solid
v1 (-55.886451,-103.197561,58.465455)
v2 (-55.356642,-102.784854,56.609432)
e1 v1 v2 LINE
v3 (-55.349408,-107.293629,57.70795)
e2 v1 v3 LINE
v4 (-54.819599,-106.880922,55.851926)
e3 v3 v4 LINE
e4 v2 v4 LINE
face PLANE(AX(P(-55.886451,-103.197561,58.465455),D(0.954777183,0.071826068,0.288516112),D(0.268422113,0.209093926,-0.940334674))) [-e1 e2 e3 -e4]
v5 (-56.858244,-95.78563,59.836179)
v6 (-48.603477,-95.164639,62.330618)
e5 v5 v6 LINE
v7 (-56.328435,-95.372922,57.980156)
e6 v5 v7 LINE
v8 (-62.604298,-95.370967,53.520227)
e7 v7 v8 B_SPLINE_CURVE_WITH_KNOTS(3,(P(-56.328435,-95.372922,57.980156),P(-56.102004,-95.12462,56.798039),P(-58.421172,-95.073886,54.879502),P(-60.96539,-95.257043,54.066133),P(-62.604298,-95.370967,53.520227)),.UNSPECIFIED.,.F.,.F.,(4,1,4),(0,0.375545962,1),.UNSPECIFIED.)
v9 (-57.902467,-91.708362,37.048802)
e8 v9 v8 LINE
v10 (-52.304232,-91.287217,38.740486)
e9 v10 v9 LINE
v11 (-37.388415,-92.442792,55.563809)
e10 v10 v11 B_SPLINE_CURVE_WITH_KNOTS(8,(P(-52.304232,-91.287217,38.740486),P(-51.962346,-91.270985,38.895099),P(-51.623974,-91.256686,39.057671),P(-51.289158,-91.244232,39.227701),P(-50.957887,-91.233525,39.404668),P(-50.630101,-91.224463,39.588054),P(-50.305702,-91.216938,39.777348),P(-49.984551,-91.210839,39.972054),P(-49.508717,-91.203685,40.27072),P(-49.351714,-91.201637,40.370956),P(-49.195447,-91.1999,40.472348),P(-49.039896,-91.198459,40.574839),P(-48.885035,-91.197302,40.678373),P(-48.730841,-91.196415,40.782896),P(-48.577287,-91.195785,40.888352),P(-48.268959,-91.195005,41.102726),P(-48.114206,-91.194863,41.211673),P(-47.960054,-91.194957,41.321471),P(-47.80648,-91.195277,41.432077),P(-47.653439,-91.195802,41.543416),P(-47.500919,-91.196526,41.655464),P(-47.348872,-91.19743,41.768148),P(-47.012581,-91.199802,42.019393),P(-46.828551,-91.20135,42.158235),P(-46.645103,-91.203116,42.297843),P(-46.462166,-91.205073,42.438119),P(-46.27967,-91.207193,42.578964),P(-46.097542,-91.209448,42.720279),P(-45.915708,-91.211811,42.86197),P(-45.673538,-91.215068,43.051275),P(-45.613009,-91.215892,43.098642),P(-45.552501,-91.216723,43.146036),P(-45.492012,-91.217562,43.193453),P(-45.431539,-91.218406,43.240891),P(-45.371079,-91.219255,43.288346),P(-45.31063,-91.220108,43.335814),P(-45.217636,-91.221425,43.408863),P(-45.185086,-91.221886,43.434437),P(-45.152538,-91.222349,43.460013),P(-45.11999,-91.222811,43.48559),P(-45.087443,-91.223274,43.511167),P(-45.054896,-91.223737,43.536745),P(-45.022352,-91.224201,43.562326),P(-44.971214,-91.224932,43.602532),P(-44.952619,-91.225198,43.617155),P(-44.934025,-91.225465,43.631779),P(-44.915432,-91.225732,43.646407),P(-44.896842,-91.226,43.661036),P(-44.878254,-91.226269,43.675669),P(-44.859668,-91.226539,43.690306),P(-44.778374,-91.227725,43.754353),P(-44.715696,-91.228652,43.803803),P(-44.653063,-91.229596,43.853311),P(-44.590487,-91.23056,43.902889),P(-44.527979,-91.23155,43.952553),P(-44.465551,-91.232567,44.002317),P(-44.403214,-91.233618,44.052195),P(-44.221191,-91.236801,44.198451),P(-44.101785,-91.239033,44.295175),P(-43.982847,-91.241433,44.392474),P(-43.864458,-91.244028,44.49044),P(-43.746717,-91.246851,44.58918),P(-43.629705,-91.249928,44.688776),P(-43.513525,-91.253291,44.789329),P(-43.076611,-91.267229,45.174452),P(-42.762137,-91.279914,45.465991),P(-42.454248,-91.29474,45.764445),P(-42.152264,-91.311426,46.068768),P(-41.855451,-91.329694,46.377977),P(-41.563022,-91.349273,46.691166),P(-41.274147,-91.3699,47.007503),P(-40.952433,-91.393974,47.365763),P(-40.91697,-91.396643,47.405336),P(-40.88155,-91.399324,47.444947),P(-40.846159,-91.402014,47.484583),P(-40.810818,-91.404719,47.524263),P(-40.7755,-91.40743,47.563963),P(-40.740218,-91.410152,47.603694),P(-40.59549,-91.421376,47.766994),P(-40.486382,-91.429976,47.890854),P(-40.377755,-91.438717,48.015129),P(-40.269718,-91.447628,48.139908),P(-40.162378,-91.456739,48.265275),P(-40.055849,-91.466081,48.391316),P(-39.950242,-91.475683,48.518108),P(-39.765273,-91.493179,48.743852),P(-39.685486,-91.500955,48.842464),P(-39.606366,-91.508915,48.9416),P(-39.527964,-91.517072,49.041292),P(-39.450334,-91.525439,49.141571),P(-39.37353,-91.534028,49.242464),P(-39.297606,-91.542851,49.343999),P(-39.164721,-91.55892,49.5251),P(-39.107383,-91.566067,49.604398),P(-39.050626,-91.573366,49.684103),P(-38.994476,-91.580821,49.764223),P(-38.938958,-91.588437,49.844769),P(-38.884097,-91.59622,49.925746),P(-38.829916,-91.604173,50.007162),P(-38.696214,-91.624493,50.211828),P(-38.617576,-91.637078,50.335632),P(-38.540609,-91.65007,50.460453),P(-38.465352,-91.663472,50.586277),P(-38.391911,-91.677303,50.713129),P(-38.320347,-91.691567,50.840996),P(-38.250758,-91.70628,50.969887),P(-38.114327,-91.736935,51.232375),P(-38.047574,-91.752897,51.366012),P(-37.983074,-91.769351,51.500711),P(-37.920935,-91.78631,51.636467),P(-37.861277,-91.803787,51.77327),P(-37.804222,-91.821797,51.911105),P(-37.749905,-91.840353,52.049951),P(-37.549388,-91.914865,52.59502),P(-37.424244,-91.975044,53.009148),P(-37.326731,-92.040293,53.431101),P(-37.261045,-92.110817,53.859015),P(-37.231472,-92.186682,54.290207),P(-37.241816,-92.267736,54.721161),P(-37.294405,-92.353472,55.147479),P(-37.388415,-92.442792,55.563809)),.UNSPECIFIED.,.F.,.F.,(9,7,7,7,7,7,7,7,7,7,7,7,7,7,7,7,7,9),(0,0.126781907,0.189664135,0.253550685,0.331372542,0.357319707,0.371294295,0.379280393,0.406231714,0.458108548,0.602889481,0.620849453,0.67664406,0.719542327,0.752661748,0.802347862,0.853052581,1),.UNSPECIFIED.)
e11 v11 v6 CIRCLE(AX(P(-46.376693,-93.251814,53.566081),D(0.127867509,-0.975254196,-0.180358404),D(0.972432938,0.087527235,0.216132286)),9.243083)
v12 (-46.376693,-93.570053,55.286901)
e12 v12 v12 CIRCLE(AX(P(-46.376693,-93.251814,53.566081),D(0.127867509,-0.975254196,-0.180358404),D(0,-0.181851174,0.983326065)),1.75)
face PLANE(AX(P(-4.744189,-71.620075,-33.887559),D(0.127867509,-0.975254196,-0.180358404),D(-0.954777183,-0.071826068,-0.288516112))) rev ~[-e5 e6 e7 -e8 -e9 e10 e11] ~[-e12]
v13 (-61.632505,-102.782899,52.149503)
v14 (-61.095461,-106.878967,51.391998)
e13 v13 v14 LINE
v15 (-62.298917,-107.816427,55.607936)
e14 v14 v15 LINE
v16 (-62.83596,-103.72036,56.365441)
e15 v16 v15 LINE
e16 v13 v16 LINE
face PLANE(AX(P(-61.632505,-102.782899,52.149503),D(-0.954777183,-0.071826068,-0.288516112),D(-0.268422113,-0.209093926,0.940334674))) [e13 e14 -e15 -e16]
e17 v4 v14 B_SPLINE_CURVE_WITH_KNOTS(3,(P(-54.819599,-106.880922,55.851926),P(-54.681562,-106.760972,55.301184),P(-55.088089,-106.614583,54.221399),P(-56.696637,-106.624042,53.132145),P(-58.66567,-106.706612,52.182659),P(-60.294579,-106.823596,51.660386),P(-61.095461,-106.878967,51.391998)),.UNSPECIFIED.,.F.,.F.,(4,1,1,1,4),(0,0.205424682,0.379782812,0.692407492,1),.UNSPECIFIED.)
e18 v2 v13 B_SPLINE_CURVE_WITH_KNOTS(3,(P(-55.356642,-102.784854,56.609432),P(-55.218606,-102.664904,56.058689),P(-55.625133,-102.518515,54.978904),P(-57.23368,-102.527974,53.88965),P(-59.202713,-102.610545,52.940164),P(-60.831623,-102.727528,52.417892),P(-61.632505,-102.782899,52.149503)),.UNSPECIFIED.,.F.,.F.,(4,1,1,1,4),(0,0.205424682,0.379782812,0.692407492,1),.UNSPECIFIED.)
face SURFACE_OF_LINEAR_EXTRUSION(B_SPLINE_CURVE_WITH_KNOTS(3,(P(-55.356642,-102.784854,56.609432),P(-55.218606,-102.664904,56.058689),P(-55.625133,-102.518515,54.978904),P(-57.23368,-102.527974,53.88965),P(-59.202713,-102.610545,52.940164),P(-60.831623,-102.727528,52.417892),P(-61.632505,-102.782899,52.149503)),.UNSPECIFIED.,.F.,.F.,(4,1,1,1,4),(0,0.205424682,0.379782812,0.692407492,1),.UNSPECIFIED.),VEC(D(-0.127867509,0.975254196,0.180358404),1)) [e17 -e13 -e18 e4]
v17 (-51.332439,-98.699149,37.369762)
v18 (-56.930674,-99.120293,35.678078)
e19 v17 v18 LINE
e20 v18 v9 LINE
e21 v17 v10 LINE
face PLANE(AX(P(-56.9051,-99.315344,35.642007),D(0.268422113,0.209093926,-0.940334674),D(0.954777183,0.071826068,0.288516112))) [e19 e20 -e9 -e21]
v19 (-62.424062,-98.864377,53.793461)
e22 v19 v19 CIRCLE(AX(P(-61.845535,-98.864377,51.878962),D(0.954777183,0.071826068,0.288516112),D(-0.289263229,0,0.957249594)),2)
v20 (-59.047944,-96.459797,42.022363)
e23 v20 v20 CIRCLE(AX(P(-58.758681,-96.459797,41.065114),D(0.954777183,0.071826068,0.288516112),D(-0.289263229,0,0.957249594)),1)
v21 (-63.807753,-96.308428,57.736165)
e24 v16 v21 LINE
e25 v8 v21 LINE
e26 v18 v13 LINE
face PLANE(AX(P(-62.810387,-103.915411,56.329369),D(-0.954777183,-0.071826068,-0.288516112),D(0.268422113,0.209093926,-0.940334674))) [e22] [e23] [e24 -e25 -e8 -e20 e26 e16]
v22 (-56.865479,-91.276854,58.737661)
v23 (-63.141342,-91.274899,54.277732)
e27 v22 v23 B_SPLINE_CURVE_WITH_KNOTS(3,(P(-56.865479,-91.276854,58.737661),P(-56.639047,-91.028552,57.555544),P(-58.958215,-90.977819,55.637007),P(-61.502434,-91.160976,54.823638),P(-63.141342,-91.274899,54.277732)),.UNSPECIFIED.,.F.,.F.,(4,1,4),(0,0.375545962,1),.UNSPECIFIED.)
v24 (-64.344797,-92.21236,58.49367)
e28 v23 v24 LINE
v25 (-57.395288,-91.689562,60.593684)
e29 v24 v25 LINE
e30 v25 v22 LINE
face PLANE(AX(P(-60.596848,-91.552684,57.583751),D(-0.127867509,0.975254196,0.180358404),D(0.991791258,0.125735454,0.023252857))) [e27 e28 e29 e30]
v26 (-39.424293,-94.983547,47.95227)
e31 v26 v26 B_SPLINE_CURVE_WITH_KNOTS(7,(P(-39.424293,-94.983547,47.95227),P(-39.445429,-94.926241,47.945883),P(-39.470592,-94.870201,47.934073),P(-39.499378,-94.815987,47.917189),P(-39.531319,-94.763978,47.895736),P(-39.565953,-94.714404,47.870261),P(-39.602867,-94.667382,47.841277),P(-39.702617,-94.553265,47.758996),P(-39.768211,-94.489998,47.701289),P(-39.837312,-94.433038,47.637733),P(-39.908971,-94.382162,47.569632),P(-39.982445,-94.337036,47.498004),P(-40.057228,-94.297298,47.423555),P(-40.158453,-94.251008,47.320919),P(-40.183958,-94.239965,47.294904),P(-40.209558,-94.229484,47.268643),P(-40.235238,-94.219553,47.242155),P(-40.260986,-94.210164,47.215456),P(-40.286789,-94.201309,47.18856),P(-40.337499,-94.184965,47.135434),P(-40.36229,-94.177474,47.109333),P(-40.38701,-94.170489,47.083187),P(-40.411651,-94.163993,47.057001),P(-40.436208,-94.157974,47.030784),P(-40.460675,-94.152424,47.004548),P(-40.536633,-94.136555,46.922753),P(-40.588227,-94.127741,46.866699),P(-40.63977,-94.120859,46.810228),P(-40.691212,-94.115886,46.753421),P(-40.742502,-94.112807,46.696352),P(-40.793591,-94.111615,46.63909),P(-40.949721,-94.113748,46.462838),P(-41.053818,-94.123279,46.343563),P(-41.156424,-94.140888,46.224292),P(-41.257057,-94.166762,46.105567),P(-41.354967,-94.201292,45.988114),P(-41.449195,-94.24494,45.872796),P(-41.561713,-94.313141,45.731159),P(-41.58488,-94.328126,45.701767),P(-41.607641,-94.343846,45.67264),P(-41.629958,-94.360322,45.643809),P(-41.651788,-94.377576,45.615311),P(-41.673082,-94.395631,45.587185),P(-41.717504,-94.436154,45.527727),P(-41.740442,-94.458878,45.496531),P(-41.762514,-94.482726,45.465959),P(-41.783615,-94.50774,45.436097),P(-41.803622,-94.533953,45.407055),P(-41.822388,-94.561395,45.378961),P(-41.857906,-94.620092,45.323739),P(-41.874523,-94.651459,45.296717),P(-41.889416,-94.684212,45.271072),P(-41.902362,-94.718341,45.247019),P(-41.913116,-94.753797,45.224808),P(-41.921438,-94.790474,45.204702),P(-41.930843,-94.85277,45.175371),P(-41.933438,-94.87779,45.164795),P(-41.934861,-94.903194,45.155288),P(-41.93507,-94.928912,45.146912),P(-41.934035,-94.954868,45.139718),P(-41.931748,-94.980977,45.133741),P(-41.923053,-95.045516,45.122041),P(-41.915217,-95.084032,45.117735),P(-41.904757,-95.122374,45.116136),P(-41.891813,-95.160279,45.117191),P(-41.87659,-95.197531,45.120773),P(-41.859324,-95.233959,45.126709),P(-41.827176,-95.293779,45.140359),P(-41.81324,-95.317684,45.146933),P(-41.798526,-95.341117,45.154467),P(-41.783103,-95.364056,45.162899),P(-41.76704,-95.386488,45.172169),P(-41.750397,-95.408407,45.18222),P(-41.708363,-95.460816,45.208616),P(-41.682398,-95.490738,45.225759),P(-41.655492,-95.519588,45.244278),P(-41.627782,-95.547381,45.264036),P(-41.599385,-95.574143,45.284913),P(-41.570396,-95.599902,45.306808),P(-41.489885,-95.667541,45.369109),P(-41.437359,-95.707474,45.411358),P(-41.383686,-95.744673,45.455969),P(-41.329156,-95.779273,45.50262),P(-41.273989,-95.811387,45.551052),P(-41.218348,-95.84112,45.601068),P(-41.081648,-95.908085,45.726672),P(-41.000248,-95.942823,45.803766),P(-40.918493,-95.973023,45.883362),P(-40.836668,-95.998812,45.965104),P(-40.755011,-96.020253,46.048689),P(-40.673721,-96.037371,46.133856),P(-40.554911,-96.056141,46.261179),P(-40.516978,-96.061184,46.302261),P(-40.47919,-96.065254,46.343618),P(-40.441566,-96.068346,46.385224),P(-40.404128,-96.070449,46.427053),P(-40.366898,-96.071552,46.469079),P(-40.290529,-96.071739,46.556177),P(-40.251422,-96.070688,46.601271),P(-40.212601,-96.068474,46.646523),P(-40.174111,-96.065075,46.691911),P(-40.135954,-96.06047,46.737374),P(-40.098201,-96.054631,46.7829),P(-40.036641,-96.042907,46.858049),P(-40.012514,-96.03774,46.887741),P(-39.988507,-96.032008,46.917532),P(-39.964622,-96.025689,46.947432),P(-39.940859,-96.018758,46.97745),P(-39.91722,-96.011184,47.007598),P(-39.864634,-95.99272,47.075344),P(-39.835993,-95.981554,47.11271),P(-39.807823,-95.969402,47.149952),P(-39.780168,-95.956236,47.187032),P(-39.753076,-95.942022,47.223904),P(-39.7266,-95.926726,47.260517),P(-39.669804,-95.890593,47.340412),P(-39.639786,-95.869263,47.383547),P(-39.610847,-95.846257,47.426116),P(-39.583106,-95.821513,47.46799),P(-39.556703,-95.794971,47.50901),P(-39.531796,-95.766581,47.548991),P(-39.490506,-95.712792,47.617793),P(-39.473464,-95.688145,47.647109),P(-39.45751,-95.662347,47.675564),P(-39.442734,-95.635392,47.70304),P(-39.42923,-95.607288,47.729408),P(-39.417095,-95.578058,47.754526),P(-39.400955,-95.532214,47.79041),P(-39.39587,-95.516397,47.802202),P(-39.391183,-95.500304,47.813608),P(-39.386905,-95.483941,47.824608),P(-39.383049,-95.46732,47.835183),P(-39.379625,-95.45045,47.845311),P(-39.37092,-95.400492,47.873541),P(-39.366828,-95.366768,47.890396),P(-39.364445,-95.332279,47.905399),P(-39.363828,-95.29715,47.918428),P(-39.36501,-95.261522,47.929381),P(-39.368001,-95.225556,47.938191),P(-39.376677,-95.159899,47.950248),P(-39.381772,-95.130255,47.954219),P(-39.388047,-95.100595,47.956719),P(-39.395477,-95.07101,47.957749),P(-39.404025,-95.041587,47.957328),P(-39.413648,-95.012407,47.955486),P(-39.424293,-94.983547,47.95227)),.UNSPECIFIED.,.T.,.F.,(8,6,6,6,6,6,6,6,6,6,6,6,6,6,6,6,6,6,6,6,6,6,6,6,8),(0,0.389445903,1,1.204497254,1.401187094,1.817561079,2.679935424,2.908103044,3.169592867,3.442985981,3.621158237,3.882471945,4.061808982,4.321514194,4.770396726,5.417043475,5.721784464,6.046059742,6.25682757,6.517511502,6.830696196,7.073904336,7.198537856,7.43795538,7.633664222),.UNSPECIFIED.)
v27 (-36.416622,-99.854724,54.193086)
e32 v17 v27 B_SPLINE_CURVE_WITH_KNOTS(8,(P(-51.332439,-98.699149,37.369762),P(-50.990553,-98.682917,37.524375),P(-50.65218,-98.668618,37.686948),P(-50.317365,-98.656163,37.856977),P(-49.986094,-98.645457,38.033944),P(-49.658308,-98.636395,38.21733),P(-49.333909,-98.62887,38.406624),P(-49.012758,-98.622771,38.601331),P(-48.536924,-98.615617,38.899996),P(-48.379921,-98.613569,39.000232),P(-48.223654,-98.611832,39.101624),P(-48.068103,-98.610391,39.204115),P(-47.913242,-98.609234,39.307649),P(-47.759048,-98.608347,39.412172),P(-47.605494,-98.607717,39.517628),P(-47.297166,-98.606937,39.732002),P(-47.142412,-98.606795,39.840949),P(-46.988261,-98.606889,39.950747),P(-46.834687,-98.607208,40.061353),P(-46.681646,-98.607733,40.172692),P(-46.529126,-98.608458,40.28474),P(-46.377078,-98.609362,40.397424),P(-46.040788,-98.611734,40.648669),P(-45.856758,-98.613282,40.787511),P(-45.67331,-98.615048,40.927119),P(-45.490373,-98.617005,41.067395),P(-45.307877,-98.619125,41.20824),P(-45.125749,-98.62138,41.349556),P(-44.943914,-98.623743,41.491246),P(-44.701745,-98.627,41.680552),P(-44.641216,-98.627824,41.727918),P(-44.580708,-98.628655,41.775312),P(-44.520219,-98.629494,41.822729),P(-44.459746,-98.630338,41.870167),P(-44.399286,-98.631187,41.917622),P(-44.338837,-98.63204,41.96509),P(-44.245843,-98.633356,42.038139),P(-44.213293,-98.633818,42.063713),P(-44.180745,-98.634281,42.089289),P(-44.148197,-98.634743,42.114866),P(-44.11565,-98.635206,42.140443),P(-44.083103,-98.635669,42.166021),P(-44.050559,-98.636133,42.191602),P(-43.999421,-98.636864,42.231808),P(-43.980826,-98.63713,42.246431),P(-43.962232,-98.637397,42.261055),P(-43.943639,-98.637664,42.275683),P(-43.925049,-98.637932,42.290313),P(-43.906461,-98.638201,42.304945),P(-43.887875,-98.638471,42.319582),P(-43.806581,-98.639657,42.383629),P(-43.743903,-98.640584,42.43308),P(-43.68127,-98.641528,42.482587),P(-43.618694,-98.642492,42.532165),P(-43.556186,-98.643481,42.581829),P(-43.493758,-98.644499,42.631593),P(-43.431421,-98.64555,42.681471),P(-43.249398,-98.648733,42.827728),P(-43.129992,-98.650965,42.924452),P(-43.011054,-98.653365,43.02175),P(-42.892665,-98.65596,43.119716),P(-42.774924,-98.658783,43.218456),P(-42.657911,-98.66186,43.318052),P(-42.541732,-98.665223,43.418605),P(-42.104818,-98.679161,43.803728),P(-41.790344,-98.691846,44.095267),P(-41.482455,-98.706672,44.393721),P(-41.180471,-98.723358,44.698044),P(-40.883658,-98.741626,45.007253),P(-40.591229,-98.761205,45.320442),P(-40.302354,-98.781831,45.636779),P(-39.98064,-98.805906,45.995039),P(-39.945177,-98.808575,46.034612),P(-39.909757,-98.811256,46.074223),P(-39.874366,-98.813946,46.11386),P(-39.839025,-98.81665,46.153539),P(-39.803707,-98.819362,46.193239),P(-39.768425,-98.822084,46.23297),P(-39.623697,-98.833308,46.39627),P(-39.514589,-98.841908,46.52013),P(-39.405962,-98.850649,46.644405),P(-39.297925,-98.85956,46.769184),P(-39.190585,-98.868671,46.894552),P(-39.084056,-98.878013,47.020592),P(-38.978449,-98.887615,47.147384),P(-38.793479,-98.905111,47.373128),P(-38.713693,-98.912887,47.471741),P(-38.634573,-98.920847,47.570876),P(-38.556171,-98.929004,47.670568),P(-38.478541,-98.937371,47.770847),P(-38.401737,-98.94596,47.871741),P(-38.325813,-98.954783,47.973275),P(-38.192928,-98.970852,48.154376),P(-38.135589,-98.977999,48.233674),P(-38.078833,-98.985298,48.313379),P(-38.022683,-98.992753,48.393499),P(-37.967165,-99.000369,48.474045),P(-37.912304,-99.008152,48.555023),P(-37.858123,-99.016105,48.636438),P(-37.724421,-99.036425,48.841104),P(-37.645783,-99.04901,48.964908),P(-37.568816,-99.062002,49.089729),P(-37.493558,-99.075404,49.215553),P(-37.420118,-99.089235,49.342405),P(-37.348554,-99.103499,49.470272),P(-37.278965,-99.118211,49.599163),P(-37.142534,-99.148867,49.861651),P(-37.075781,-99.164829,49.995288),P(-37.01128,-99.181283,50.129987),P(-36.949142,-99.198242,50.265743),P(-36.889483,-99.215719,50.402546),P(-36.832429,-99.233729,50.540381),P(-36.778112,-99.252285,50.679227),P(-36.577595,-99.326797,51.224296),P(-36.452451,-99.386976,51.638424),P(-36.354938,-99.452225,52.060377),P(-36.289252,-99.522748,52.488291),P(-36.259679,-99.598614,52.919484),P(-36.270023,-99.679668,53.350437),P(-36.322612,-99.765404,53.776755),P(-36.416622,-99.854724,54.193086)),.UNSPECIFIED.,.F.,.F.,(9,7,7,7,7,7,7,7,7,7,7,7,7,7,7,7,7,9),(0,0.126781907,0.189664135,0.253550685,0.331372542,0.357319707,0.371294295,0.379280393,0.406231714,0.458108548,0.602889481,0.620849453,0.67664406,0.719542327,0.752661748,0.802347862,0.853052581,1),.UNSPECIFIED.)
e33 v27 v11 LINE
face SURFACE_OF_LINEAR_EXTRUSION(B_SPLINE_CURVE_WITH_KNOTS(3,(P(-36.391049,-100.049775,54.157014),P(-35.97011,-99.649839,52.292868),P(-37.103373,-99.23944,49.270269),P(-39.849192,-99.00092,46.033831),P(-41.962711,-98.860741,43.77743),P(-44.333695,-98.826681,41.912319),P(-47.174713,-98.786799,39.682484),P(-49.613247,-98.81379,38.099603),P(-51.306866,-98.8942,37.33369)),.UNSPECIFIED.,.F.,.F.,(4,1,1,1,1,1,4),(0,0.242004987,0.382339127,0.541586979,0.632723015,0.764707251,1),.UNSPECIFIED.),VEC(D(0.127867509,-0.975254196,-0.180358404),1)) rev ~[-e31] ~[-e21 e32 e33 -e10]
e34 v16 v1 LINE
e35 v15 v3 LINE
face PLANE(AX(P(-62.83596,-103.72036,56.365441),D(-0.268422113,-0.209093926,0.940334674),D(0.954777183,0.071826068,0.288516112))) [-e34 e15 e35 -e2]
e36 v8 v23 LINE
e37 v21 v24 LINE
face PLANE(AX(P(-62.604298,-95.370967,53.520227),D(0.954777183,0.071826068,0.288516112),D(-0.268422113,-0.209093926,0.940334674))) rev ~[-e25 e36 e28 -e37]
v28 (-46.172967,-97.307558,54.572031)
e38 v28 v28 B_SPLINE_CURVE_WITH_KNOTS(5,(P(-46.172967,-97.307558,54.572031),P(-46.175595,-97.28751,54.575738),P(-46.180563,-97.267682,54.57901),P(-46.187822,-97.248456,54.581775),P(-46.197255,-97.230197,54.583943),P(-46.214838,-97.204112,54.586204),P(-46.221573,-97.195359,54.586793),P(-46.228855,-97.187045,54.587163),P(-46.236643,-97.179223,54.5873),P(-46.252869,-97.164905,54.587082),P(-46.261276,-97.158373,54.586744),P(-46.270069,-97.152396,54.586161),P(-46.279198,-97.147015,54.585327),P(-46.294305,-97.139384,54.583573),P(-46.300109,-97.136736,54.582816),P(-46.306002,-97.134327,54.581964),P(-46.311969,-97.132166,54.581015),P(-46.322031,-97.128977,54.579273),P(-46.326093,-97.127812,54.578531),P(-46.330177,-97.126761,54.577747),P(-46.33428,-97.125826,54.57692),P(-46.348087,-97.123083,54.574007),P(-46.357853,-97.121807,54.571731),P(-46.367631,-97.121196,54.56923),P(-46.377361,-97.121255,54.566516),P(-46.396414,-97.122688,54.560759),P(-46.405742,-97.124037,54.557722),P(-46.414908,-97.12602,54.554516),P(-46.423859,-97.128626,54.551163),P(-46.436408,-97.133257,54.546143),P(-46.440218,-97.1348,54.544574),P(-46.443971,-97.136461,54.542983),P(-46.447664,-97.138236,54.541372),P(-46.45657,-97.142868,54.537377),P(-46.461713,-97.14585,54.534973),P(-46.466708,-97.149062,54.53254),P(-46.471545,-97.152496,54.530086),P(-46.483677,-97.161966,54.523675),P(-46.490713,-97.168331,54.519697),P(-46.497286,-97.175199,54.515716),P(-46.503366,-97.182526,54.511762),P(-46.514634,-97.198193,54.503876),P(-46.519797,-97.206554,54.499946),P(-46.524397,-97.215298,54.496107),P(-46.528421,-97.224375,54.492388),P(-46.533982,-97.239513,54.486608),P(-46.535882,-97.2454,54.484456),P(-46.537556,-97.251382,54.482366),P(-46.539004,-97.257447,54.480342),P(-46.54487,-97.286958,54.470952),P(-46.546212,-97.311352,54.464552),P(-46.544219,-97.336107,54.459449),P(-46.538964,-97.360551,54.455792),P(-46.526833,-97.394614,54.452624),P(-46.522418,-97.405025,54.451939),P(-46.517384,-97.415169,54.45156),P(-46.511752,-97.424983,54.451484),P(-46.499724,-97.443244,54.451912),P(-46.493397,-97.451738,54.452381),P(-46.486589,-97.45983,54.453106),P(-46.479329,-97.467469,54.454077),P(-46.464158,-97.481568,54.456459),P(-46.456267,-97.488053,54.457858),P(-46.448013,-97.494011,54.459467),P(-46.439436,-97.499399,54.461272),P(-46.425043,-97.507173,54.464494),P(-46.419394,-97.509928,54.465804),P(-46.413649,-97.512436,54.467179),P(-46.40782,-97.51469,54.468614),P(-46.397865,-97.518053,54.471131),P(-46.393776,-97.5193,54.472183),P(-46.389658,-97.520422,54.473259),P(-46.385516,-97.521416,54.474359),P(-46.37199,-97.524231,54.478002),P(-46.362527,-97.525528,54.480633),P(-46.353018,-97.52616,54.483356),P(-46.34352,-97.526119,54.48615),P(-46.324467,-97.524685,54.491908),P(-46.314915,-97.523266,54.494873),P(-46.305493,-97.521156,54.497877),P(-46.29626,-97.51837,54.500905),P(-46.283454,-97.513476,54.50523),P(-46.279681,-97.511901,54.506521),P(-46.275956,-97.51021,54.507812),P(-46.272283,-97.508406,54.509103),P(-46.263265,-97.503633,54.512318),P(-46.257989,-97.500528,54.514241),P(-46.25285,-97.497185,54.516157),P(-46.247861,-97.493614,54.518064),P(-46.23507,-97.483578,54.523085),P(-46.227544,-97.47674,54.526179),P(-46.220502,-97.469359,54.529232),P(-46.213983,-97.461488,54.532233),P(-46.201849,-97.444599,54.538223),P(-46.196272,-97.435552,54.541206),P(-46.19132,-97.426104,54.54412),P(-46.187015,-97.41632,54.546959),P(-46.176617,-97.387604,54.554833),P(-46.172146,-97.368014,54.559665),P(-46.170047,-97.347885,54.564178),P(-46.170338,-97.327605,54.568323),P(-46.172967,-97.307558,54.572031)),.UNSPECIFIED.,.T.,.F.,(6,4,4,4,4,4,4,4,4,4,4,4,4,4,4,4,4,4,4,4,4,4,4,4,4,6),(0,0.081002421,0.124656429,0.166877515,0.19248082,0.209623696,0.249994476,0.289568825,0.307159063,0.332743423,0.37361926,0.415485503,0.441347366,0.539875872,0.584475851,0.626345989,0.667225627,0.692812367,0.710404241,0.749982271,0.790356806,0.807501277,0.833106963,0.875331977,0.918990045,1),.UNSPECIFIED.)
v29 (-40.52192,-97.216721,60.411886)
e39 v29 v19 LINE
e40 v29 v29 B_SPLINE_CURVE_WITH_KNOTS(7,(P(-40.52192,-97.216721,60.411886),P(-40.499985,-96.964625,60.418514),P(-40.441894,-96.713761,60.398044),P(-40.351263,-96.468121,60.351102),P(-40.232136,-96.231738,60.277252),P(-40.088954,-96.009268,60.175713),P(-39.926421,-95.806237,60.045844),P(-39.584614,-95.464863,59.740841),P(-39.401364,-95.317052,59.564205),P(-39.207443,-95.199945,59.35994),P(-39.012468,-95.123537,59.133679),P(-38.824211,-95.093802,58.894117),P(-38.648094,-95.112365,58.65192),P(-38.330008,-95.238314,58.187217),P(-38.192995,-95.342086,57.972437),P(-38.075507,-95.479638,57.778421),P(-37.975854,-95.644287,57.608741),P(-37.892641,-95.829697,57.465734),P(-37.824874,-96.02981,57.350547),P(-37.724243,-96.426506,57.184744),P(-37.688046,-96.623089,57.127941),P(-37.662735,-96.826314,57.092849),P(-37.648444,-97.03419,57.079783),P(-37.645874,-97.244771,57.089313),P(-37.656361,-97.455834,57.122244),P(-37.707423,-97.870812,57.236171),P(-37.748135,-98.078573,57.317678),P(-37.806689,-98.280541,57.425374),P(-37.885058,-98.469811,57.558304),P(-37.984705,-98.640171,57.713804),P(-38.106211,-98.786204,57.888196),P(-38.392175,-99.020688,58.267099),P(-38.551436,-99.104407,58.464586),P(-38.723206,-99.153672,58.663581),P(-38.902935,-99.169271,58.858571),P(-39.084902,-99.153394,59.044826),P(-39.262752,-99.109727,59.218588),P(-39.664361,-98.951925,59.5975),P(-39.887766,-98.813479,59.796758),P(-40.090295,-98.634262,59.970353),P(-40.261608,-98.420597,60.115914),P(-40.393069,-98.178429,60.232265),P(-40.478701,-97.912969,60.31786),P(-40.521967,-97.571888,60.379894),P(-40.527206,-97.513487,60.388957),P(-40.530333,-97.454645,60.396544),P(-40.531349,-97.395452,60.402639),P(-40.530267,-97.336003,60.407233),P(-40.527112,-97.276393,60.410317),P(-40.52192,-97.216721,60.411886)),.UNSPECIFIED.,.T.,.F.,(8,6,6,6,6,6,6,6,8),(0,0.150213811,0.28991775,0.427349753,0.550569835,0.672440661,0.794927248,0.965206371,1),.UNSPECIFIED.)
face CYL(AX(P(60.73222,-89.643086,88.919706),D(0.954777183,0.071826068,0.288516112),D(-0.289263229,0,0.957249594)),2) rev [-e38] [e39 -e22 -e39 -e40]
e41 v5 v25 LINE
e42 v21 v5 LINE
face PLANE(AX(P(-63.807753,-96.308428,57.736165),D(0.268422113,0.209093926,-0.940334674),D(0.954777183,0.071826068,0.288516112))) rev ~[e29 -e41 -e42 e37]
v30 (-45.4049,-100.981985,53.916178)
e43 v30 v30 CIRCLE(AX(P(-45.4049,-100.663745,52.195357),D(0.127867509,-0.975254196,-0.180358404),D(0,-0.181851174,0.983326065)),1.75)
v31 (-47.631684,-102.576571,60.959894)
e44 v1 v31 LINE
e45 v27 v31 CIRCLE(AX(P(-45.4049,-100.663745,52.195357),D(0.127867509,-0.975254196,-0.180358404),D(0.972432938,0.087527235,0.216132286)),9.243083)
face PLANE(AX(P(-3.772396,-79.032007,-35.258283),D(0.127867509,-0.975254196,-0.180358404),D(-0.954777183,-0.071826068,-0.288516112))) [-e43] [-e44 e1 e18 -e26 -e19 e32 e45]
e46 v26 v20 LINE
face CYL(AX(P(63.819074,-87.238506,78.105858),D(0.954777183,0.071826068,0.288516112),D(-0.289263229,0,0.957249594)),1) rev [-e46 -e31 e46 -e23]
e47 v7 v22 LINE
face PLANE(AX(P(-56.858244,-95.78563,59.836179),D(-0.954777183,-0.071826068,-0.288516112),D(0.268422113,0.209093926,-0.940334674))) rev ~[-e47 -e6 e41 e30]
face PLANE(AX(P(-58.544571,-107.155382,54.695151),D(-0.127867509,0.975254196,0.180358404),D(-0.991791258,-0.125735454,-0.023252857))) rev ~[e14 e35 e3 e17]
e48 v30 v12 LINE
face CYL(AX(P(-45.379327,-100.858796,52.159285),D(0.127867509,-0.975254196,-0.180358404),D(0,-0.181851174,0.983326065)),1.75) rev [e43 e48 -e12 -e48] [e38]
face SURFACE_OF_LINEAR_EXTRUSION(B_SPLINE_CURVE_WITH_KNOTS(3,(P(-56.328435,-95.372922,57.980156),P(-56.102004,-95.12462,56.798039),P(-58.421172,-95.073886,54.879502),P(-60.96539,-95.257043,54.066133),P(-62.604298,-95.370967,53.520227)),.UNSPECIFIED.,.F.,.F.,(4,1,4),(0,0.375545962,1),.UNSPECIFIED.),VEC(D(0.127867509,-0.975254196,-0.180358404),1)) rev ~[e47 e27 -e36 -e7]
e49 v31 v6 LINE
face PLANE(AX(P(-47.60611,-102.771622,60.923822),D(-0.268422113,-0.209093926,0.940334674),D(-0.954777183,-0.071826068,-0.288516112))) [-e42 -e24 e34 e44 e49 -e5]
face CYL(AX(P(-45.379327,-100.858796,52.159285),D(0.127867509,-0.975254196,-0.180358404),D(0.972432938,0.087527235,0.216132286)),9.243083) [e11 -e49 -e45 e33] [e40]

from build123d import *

# Parameters (mm, degrees)
SKETCH6_R               = 1.75
BOSS_EXTRUDE2_DEPTH     = 8
CUT_EXTRUDE4_DEPTH      = 107.173115528
CUT_EXTRUDE4_DEPTH_BACK = 107.173115528
CUT_EXTRUDE5_DEPTH      = 128.383624047
CUT_EXTRUDE5_DEPTH_BACK = 128.383624047
SKETCH8_R               = 1
SKETCH8_R_2             = 2
BOSS_EXTRUDE3_DEPTH     = 4.2
BOSS_EXTRUDE4_DEPTH     = 4.2


with BuildPart() as part:
    # Sketch6 → Boss-Extrude2 (new body)
    with BuildSketch(Plane(origin=(10.632574288, -81.095368055, -14.997352737), x_dir=(0.9917912583823046, 0.12573545426534224, 0.023252856537050268), z_dir=(-0.1278675087598277, 0.9752541956794009, 0.18035840433226386))):
        with BuildLine():
            Line((-58.720707619, -78.597122513), (-74.050825307, -74.287276551))
            Line((-74.050825307, -74.287276551), (-68.096662632, -53.10832599))
            Line((-68.096662632, -53.10832599), (-62.452093156, -54.695216936))
            add(Edge.make_bspline(
                [(-47.41282256, -71.448172315), (-46.98839964, -69.542379881), (-48.131042307, -66.495548615), (-50.899587461, -63.269699296), (-53.030599864, -61.025429488), (-55.421207388, -59.185223607), (-58.285739447, -56.985315978), (-60.74445703, -55.433736114), (-62.452093156, -54.695216936)],
                knots=[0, 0, 0, 0, 0.242004987, 0.382339127, 0.541586979, 0.632723015, 0.764707251, 1, 1, 1, 1], degree=3))
            ThreePointArc((-47.41282256, -71.448172315), (-51.536232304, -77.44357473), (-58.720707619, -78.597122513))
        make_face()
        with Locations(Location((-56.475493646, -69.630875245, 0), (0, 0, 270))):
            Circle(SKETCH6_R, mode=Mode.SUBTRACT)
    extrude(amount=BOSS_EXTRUDE2_DEPTH)

    # Sketch7 → Cut-Extrude4 (cut, two sides: drawn at the far end of the back side and taken through both)
    with BuildSketch(Plane(origin=(-24.575718662, -19.143853045, 86.09350443), x_dir=(0.9633013905822628, -0.058263627508971086, 0.26202248111903403), z_dir=(-0.2684221132885267, -0.20909392565369475, 0.9403346741200436)).offset(-CUT_EXTRUDE4_DEPTH_BACK)):
        Polygon((-40.726646112, -81.480078367), (-46.231379687, -82.217293899), (-46.664686567, -78.981823637), (-9.709847833, -74.032686551), (-9.276540953, -77.268156813), align=None)
        Polygon((-8.267725772, -84.80090478), (-39.717830931, -89.012826334), (-45.222564506, -89.750041866), (-44.789257627, -92.985512128), (-7.834418892, -88.036375042), align=None)
    extrude(amount=CUT_EXTRUDE4_DEPTH + CUT_EXTRUDE4_DEPTH_BACK, mode=Mode.SUBTRACT)

    # Sketch8 → Cut-Extrude5 (cut, two sides: drawn at the far end of the back side and taken through both)
    with BuildSketch(Plane(origin=(-48.867242553, -3.67618954, -14.766782297), x_dir=(-0.2877031657138141, -0.02164336093403552, 0.9574750405967399), z_dir=(-0.9547771830648638, -0.07182606814000152, -0.28851611156791795)).offset(-CUT_EXTRUDE5_DEPTH_BACK)):
        with Locations(Location((58.311594019, -91.780155744, 0), (0, 0, 1.243382016))):
            Circle(SKETCH8_R)
        with Locations(Location((69.605725243, -93.946396702, 0), (0, 0, 1.243382016))):
            Circle(SKETCH8_R_2)
    extrude(amount=CUT_EXTRUDE5_DEPTH + CUT_EXTRUDE5_DEPTH_BACK, mode=Mode.SUBTRACT)

    # Sketch9 → Boss-Extrude3 (add)
    with BuildSketch(Plane(origin=(9.63520772, -73.488385329, -13.590557183), x_dir=(0.9917912583823045, 0.12573545426534377, 0.023252856537050493), z_dir=(-0.12786750875982922, 0.9752541956794007, 0.18035840433226338))):
        with BuildLine():
            Line((-72.837409201, -69.971156701), (-74.050825307, -74.287276551))
            Line((-74.050825307, -74.287276551), (-67.043797112, -76.257203513))
            Line((-67.043797112, -76.257203513), (-66.509603126, -74.35707605))
            add(Edge.make_bspline(
                [(-66.509603126, -74.35707605), (-66.28129752, -73.149516128), (-68.619660453, -71.253742741), (-71.184936574, -70.487242661), (-72.837409201, -69.971156701)],
                knots=[0, 0, 0, 0, 0.375545962, 1, 1, 1, 1], degree=3))
        make_face()
    extrude(amount=BOSS_EXTRUDE3_DEPTH)

    # Sketch10 → Boss-Extrude4 (add)
    with BuildSketch(Plane(origin=(10.607000786, -80.900317216, -14.961281056), x_dir=(0.9917912583823054, 0.125735454265337, 0.023252856537049508), z_dir=(0.12786750875982242, -0.9752541956794013, -0.18035840433226552))):
        with BuildLine():
            Line((-67.043797112, 76.257203513), (-66.509603126, 74.35707605))
            add(Edge.make_bspline(
                [(-66.509603126, 74.35707605), (-66.370424117, 73.7937033), (-66.780315698, 72.705301804), (-68.402176626, 71.635929848), (-70.387506863, 70.717291368), (-72.029898632, 70.225000611), (-72.837409201, 69.971156701)],
                knots=[0, 0, 0, 0, 0.205424682, 0.379782812, 0.692407492, 1, 1, 1, 1], degree=3))
            Line((-72.837409201, 69.971156701), (-74.050825307, 74.287276551))
            Line((-74.050825307, 74.287276551), (-67.043797112, 76.257203513))
        make_face()
    extrude(amount=BOSS_EXTRUDE4_DEPTH)


solid = part.part
